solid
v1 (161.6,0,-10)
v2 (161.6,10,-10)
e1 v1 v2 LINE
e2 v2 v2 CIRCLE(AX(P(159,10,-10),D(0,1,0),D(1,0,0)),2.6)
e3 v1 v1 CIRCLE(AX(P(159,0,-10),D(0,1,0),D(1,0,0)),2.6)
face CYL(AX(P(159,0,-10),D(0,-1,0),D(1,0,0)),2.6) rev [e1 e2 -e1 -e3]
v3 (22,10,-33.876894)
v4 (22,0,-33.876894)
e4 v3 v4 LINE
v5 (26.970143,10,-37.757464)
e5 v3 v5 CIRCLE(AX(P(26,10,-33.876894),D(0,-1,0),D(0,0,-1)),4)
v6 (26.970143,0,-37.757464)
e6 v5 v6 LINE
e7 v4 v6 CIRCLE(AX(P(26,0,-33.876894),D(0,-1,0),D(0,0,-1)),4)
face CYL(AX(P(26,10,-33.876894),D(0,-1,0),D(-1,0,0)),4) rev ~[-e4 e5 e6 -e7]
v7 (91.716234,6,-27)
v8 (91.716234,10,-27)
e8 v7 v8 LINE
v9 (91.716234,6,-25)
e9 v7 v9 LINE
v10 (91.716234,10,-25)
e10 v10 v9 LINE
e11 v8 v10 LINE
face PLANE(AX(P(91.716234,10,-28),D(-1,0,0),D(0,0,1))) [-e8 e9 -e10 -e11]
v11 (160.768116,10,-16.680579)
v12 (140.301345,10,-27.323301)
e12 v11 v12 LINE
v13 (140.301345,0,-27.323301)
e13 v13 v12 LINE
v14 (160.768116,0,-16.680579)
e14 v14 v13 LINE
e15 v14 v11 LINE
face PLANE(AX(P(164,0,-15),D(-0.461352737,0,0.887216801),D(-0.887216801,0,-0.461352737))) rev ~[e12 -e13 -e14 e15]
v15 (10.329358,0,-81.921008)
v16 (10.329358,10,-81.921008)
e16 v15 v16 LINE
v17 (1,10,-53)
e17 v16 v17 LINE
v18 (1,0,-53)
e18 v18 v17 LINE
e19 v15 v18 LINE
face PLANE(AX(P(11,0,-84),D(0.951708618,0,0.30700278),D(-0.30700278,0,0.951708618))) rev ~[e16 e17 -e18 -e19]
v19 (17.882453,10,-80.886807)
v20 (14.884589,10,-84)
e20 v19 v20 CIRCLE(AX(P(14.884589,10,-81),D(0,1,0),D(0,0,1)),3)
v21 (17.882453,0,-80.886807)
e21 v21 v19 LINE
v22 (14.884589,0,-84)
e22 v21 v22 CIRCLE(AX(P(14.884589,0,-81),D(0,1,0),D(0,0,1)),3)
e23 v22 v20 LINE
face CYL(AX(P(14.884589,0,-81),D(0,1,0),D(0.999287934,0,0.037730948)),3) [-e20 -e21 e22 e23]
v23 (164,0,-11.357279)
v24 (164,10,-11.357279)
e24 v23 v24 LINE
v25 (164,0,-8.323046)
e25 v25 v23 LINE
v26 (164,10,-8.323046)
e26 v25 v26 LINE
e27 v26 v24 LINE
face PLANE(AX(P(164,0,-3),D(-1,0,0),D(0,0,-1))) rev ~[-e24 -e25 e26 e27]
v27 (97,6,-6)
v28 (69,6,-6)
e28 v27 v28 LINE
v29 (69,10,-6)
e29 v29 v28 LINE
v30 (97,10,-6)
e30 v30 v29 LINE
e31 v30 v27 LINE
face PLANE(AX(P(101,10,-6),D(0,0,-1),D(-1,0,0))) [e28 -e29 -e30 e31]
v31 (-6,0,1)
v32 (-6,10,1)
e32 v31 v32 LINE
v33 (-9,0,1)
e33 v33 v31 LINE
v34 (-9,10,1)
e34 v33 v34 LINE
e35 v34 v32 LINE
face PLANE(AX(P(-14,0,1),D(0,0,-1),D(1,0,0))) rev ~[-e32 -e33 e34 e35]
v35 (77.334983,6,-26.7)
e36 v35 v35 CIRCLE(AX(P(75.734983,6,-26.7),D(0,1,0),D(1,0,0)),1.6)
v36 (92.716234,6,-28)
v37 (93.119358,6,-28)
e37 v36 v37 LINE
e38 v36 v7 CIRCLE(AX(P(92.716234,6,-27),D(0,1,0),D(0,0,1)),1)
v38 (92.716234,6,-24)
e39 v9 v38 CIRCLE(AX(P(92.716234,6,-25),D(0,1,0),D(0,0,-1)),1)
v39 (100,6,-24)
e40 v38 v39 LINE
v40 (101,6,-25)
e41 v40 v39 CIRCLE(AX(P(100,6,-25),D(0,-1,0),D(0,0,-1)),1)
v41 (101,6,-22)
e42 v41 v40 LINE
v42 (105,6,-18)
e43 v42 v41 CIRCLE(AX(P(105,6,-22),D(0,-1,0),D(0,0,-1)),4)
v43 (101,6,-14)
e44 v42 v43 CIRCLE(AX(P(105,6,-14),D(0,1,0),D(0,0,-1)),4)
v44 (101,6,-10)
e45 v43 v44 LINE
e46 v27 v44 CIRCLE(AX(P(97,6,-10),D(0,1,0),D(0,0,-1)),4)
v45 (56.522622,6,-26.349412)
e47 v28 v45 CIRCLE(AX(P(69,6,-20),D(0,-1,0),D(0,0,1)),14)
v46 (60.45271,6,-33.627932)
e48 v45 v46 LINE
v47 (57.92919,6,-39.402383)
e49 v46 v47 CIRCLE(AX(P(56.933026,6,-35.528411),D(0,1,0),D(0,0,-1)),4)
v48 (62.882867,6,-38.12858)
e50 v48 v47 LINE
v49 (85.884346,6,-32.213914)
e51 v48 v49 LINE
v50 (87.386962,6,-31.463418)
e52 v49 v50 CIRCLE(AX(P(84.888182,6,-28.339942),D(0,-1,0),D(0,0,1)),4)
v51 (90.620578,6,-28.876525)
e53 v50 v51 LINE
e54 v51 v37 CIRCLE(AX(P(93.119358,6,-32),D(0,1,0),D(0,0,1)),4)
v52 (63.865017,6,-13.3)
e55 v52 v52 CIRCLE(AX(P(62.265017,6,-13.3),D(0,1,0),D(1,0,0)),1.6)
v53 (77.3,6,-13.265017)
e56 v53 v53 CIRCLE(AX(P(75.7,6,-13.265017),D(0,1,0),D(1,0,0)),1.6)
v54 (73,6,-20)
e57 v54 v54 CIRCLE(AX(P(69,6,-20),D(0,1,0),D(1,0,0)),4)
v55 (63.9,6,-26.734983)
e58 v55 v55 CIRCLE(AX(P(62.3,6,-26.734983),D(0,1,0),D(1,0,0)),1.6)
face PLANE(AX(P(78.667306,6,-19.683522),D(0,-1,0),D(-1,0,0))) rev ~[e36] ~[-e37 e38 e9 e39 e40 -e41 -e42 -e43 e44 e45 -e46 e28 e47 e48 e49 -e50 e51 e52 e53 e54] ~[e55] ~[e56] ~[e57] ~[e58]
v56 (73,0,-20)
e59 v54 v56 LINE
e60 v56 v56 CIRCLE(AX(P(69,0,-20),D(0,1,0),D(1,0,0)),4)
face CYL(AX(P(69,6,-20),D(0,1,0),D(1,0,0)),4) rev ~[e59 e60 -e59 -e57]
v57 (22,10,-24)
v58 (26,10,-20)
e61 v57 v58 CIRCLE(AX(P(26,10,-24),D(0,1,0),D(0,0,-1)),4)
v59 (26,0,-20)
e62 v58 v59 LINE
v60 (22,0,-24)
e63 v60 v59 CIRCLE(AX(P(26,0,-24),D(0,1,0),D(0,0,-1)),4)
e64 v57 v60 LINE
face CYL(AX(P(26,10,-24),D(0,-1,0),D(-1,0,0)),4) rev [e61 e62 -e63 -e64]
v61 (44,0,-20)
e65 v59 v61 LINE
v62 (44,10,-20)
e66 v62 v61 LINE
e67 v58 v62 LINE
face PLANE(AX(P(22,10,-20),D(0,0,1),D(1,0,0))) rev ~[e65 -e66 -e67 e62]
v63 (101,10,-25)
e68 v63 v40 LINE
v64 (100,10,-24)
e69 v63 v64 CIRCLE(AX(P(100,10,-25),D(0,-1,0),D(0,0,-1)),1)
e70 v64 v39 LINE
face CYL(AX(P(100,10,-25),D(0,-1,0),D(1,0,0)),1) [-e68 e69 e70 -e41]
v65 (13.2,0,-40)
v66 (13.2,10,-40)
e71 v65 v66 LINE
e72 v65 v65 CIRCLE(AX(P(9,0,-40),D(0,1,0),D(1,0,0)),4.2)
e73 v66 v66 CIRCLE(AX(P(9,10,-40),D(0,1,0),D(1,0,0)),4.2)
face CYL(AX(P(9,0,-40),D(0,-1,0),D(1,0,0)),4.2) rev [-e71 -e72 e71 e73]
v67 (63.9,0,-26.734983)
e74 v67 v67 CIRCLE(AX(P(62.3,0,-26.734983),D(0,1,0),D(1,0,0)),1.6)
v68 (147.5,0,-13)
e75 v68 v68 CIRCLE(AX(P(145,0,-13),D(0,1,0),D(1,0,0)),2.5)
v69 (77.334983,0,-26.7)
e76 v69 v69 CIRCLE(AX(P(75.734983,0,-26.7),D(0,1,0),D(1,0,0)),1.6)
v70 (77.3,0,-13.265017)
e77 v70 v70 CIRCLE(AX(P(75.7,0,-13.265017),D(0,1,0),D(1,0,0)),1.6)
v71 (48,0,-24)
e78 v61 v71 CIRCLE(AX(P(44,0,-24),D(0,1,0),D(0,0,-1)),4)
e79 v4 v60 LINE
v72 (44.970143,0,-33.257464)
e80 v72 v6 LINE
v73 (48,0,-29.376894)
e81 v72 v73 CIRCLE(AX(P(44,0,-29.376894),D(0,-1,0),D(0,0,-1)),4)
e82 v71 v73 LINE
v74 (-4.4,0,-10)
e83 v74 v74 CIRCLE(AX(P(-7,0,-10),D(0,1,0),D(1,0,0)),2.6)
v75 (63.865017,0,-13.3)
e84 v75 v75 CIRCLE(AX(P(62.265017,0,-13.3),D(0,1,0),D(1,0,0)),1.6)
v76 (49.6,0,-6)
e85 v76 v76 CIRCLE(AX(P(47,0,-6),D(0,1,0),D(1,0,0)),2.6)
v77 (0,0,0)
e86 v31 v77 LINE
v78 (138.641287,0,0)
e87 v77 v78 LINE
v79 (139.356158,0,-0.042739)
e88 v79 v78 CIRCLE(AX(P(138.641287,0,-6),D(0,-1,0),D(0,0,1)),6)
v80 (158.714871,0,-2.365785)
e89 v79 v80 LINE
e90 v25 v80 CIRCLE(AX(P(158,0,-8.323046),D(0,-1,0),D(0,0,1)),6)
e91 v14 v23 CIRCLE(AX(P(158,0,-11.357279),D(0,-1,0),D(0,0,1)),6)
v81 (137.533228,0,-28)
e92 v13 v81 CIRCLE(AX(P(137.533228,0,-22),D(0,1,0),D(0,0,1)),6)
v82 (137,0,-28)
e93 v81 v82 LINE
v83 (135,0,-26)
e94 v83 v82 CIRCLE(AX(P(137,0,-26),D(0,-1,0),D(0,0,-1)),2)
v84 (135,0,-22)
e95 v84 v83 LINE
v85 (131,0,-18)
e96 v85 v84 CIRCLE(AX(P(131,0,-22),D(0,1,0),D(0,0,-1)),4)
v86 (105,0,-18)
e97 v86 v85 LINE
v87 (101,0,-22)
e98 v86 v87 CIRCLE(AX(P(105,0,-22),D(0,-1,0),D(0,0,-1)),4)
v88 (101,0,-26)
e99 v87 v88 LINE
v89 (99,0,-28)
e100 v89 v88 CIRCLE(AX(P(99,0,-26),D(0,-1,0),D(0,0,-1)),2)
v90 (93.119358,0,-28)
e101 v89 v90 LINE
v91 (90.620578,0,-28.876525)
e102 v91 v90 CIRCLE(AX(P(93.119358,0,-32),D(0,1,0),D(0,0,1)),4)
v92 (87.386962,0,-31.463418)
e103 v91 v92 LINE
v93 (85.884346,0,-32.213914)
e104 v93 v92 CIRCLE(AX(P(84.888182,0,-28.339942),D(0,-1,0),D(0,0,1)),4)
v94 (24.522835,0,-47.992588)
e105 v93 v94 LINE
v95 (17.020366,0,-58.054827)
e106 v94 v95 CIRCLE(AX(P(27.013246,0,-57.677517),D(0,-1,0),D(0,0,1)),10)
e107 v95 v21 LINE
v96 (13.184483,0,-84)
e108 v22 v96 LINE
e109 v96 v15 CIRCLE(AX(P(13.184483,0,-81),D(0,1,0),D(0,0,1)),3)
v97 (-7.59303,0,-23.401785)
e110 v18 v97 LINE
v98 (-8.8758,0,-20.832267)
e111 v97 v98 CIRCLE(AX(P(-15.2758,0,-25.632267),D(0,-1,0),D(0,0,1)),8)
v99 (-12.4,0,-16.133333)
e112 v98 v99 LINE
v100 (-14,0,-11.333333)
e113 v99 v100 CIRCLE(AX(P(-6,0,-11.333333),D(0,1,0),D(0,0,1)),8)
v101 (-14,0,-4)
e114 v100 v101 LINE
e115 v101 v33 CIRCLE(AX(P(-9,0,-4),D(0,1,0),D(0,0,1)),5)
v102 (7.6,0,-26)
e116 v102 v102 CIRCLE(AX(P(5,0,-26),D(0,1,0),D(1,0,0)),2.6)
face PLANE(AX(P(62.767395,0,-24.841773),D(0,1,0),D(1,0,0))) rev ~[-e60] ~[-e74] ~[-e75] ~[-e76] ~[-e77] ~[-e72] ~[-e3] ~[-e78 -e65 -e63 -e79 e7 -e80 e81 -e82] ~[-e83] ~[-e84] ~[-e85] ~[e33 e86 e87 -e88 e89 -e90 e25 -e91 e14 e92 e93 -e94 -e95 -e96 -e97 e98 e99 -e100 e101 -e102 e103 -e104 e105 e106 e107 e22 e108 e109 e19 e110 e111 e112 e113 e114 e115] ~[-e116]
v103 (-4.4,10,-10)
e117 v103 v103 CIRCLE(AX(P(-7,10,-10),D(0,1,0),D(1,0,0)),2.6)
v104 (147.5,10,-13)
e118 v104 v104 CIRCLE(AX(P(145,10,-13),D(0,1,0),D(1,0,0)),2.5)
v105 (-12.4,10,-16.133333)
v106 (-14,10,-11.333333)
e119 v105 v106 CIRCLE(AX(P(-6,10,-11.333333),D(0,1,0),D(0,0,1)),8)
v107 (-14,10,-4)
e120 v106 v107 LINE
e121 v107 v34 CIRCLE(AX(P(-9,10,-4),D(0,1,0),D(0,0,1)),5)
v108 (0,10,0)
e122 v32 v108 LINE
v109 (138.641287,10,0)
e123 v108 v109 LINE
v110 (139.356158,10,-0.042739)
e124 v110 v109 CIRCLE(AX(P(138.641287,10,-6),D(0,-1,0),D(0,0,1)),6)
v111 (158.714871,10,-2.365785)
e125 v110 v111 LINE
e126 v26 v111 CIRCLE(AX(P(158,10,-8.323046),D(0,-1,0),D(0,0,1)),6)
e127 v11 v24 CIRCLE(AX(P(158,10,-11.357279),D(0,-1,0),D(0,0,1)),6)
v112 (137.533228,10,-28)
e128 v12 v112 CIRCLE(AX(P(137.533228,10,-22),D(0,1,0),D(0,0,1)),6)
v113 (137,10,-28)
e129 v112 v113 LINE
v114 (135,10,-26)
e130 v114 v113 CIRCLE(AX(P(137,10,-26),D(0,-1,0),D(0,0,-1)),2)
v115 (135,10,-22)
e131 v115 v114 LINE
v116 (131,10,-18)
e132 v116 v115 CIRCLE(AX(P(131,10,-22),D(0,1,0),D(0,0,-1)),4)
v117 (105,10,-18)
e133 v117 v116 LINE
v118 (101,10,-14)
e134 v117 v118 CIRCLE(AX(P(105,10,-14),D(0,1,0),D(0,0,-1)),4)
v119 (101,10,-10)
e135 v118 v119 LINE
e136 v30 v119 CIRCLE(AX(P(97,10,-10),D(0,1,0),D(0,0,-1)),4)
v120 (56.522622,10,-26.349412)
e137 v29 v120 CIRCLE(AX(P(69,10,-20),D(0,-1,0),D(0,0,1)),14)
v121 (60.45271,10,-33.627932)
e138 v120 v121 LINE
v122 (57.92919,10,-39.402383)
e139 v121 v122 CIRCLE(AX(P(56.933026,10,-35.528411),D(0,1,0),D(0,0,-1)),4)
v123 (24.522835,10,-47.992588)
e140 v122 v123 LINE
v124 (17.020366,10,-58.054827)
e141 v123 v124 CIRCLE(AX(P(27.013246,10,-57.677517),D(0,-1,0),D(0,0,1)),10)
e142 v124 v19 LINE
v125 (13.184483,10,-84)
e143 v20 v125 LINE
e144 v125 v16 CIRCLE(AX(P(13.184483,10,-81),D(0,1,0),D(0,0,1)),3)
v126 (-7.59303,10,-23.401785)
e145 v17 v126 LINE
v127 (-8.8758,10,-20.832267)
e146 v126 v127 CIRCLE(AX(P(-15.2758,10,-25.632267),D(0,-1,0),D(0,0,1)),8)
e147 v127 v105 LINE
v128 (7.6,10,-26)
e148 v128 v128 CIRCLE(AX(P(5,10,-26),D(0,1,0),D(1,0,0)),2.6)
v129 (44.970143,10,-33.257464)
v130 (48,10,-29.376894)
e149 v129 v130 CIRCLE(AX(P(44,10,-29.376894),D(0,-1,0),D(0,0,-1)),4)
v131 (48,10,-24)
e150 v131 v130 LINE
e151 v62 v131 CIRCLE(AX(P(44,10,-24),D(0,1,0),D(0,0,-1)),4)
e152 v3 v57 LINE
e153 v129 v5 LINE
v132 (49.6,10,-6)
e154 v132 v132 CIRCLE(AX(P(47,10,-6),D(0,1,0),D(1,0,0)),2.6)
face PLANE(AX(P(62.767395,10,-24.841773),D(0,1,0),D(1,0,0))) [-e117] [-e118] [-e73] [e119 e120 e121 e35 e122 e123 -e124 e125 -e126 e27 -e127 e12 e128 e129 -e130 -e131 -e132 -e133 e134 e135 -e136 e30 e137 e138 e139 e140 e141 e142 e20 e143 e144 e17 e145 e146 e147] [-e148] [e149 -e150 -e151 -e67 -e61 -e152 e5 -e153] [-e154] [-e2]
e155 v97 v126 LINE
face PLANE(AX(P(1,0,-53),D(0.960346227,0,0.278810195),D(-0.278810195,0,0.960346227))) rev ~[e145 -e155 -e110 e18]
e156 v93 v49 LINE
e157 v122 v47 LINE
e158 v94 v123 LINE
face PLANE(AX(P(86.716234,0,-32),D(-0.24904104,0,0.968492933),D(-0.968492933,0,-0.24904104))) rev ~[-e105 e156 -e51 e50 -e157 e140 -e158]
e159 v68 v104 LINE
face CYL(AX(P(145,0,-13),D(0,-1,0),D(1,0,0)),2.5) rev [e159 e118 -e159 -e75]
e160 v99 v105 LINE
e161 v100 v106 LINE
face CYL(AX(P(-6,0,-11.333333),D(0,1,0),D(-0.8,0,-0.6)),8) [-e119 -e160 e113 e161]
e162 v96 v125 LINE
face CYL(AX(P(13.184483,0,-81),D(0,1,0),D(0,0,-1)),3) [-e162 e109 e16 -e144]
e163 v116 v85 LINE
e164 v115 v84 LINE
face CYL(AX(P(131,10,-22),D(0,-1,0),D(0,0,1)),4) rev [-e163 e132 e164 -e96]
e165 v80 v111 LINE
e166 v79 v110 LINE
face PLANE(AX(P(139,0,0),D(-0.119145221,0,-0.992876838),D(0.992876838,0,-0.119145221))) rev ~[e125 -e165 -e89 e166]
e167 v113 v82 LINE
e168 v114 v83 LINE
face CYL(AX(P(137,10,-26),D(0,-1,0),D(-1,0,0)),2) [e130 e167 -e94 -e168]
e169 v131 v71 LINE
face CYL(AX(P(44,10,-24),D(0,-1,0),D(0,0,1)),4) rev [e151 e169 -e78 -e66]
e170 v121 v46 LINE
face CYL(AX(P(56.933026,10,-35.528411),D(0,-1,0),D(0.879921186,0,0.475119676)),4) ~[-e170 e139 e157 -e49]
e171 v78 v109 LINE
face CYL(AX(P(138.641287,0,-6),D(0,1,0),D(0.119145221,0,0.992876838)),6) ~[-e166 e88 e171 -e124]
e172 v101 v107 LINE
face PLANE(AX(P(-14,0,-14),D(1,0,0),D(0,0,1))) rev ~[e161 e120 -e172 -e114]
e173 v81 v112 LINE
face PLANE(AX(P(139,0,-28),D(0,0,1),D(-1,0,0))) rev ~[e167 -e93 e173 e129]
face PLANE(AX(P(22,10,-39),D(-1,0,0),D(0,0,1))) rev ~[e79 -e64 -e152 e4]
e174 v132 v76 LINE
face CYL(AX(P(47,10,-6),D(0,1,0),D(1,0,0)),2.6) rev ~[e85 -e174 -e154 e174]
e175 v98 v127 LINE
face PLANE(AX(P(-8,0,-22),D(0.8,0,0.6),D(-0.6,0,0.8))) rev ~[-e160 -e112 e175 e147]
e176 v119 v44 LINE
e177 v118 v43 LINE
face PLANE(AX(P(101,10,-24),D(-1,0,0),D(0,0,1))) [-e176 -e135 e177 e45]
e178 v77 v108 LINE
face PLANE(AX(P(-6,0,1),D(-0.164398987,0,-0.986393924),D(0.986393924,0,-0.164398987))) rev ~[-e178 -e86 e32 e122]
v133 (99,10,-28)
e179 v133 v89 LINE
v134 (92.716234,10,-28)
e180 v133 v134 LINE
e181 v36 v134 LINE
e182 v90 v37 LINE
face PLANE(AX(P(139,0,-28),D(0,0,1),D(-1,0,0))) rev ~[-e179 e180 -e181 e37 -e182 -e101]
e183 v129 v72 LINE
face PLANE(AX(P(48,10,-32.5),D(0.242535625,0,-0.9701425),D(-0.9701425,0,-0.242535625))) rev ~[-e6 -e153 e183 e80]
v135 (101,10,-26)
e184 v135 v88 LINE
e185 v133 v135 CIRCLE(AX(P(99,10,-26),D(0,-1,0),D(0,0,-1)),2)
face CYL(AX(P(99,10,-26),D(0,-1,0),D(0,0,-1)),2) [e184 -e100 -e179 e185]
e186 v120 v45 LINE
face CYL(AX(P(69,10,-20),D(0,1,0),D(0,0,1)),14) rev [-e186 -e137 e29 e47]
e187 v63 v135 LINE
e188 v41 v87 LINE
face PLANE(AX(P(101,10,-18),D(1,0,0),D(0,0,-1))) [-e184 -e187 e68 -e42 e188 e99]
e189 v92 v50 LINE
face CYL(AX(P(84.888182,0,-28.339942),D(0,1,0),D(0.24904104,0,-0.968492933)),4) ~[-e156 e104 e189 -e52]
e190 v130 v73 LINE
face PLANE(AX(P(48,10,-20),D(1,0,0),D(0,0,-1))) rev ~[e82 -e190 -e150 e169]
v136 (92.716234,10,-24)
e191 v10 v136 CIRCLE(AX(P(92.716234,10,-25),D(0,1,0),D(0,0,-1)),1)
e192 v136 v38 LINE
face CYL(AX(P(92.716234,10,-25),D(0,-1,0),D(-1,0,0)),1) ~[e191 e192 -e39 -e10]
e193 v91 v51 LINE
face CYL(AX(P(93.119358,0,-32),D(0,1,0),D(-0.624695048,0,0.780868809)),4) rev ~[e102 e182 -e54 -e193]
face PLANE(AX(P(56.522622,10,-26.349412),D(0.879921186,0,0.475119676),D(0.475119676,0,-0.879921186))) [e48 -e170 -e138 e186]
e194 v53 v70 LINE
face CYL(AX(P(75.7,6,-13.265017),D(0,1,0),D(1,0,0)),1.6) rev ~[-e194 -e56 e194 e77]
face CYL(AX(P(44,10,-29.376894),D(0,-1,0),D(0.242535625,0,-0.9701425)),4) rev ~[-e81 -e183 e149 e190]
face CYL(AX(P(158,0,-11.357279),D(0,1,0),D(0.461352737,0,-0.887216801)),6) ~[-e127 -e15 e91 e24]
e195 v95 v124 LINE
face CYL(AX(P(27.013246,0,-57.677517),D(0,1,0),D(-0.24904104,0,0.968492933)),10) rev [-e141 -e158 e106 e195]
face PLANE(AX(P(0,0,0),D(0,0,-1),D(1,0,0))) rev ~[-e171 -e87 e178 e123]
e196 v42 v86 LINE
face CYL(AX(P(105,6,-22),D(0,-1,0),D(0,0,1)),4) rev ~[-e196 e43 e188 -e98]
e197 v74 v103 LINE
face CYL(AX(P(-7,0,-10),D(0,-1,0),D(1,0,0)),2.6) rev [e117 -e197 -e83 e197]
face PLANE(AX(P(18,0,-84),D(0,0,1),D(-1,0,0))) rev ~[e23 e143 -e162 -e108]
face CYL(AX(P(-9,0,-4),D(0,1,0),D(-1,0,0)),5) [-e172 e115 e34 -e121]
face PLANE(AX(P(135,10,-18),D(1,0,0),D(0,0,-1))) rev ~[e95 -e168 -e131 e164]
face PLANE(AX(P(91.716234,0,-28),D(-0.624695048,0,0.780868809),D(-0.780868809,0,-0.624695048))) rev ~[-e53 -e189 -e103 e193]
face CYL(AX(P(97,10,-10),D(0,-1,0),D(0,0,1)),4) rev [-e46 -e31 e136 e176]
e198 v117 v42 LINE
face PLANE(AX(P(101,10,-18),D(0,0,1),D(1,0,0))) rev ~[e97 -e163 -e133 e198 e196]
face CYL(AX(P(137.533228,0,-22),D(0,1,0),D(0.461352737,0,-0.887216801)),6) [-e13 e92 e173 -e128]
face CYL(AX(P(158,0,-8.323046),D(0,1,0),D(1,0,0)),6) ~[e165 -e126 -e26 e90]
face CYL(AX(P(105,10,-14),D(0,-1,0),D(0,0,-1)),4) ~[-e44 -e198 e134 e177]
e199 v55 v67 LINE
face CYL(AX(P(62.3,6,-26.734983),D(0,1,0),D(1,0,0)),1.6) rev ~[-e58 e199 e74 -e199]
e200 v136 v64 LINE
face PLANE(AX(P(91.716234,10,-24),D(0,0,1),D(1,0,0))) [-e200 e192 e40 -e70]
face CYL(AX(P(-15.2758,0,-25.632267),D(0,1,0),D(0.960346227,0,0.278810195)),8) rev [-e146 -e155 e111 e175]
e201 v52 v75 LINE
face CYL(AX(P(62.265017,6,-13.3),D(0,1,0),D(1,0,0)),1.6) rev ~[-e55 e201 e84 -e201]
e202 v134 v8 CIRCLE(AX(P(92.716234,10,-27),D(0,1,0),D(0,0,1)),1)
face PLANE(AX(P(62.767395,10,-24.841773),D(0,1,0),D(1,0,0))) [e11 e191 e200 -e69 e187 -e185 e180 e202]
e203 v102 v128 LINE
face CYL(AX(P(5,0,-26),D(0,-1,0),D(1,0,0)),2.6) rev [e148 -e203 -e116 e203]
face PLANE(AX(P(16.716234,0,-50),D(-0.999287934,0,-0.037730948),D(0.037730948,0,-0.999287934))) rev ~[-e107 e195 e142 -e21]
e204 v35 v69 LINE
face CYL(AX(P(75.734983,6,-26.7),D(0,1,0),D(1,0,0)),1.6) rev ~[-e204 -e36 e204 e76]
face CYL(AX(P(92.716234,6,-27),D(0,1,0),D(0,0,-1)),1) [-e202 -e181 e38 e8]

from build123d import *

# Parameters (mm, degrees)
SKETCH1_R           = 2.6
SKETCH1_R_2         = 4.2
SKETCH1_R_3         = 2.5
BOSS_EXTRUDE1_DEPTH = 10
FILLET2_R           = 6
FILLET3_R           = 3
CUT_EXTRUDE1_DEPTH  = 11
SKETCH7_R           = 2.6
CUT_EXTRUDE4_DEPTH  = 11
FILLET8_R           = 5
FILLET9_R           = 4
SKETCH10_W          = 34
SKETCH10_H          = 10
CUT_EXTRUDE6_DEPTH  = 11
FILLET11_R          = 2
CUT_EXTRUDE7_DEPTH  = 4
FILLET13_R          = 10
FILLET14_R          = 4
FILLET15_R          = 1
FILLET16_R          = 4
FILLET17_R          = 4
SKETCH13_R          = 4
CUT_EXTRUDE8_DEPTH  = 10
FILLET19_R          = 8
SKETCH14_R          = 1.6
CUT_EXTRUDE9_DEPTH  = 10


with BuildPart() as part:
    # Sketch1 → Boss-Extrude1 (new body)
    with BuildSketch(Plane(origin=(0, 0, 0), x_dir=(1, 0, 0), z_dir=(0, 1, 0))):
        Polygon((164, 15), (139, 28), (91.716233646, 28), (86.716233646, 32), (16.716233646, 50), (18, 84), (11, 84), (1, 53), (-8, 22), (-14, 14), (-14, 2), (-14, -1), (-6, -1), (0, 0), (139, 0), (164, 3), align=None)
        with Locations((-7, 10)):
            Circle(SKETCH1_R, mode=Mode.SUBTRACT)
        with Locations((159, 10)):
            Circle(SKETCH1_R, mode=Mode.SUBTRACT)
        with Locations((5, 26)):
            Circle(SKETCH1_R, mode=Mode.SUBTRACT)
        with Locations((9, 40)):
            Circle(SKETCH1_R_2, mode=Mode.SUBTRACT)
        with Locations((145, 13)):
            Circle(SKETCH1_R_3, mode=Mode.SUBTRACT)
    extrude(amount=BOSS_EXTRUDE1_DEPTH)

    # Fillet2
    fillet2_edges = [part.edges().sort_by_distance(p)[0] for p in [
        (139, 5, -28),
        (164, 5, -15),
        (164, 5, -3),
        (139, 5, 0),
    ]]
    fillet(fillet2_edges, radius=FILLET2_R)

    # Fillet3
    fillet3_edges = [part.edges().sort_by_distance(p)[0] for p in [
        (11, 5, -84),
        (18, 5, -84),
    ]]
    fillet(fillet3_edges, radius=FILLET3_R)

    # Sketch4 → Cut-Extrude1 (cut, through all)
    with BuildSketch(Plane(origin=(0, 10, 0), x_dir=(1, 0, 0), z_dir=(0, 1, 0))):
        Polygon((22, 39), (22, 20), (48, 20), (48, 32.5), align=None)
    extrude(amount=-CUT_EXTRUDE1_DEPTH, mode=Mode.SUBTRACT)

    # Sketch7 → Cut-Extrude4 (cut, through all)
    with BuildSketch(Plane(origin=(0, 10, 0), x_dir=(1, 0, 0), z_dir=(0, 1, 0))):
        with Locations((47, 6)):
            Circle(SKETCH7_R)
    extrude(amount=-CUT_EXTRUDE4_DEPTH, mode=Mode.SUBTRACT)

    # Fillet8
    fillet8_edges = [part.edges().sort_by_distance(p)[0] for p in [
        (-14, 5, 1),
    ]]
    fillet(fillet8_edges, radius=FILLET8_R)

    # Fillet9
    fillet9_edges = [part.edges().sort_by_distance(p)[0] for p in [
        (22, 5, -39),
        (48, 5, -32.5),
        (48, 5, -20),
        (22, 5, -20),
    ]]
    fillet(fillet9_edges, radius=FILLET9_R)

    # Sketch10 → Cut-Extrude6 (cut, through all)
    with BuildSketch(Plane(origin=(0, 10, 0), x_dir=(1, 0, 0), z_dir=(0, 1, 0))):
        with Locations((118, 23)):
            Rectangle(SKETCH10_W, SKETCH10_H)
    extrude(amount=-CUT_EXTRUDE6_DEPTH, mode=Mode.SUBTRACT)

    # Fillet11
    fillet11_edges = [part.edges().sort_by_distance(p)[0] for p in [
        (101, 5, -28),
        (135, 5, -28),
    ]]
    fillet(fillet11_edges, radius=FILLET11_R)

    # Sketch12 → Cut-Extrude7 (cut)
    with BuildSketch(Plane(origin=(0, 10, 0), x_dir=(1, 0, 0), z_dir=(0, 1, 0))):
        with BuildLine():
            Line((86.716233646, 32), (91.716233646, 28))
            Line((91.716233646, 28), (91.716233646, 24))
            Line((91.716233646, 24), (101, 24))
            Line((101, 24), (101, 6))
            Line((101, 6), (69, 6))
            ThreePointArc((69, 6), (57.064930536, 12.681932162), (56.522621715, 26.349411873))
            Line((56.522621715, 26.349411873), (62.882866971, 38.128580002))
            Line((62.882866971, 38.128580002), (86.716233646, 32))
        make_face()
    extrude(amount=-CUT_EXTRUDE7_DEPTH, mode=Mode.SUBTRACT)

    # Fillet13
    fillet13_edges = [part.edges().sort_by_distance(p)[0] for p in [
        (16.716233646, 5, -50),
    ]]
    fillet(fillet13_edges, radius=FILLET13_R)

    # Fillet14
    fillet14_edges = [part.edges().sort_by_distance(p)[0] for p in [
        (86.716233646, 3, -32),
        (91.716233646, 3, -28),
    ]]
    fillet(fillet14_edges, radius=FILLET14_R)

    # Fillet15
    fillet15_edges = [part.edges().sort_by_distance(p)[0] for p in [
        (91.716233646, 8, -24),
        (101, 8, -24),
        (91.716233646, 8, -28),
    ]]
    fillet(fillet15_edges, radius=FILLET15_R)

    # Fillet16
    fillet16_edges = [part.edges().sort_by_distance(p)[0] for p in [
        (101, 8, -18),
        (62.882866971, 8, -38.128580002),
    ]]
    fillet(fillet16_edges, radius=FILLET16_R)

    # Fillet17
    fillet17_edges = [part.edges().sort_by_distance(p)[0] for p in [
        (101, 3, -18),
        (101, 8, -6),
        (135, 5, -18),
    ]]
    fillet(fillet17_edges, radius=FILLET17_R)

    # Sketch13 → Cut-Extrude8 (cut)
    with BuildSketch(Plane(origin=(0, 6, 0), x_dir=(1, 0, 0), z_dir=(0, 1, 0))):
        with Locations((69, 20)):
            Circle(SKETCH13_R)
    extrude(amount=-CUT_EXTRUDE8_DEPTH, mode=Mode.SUBTRACT)

    # Fillet19
    fillet19_edges = [part.edges().sort_by_distance(p)[0] for p in [
        (-14, 5, -14),
        (-8, 5, -22),
    ]]
    fillet(fillet19_edges, radius=FILLET19_R)

    # Sketch14 → Cut-Extrude9 (cut)
    with BuildSketch(Plane(origin=(0, 6, 0), x_dir=(1, 0, 0), z_dir=(0, 1, 0))):
        with Locations((62.3, 26.734983296)):
            Circle(SKETCH14_R)
        with Locations((75.734983296, 26.7)):
            Circle(SKETCH14_R)
        with Locations((75.7, 13.265016704)):
            Circle(SKETCH14_R)
        with Locations((62.265016704, 13.3)):
            Circle(SKETCH14_R)
    extrude(amount=-CUT_EXTRUDE9_DEPTH, mode=Mode.SUBTRACT)


solid = part.part
